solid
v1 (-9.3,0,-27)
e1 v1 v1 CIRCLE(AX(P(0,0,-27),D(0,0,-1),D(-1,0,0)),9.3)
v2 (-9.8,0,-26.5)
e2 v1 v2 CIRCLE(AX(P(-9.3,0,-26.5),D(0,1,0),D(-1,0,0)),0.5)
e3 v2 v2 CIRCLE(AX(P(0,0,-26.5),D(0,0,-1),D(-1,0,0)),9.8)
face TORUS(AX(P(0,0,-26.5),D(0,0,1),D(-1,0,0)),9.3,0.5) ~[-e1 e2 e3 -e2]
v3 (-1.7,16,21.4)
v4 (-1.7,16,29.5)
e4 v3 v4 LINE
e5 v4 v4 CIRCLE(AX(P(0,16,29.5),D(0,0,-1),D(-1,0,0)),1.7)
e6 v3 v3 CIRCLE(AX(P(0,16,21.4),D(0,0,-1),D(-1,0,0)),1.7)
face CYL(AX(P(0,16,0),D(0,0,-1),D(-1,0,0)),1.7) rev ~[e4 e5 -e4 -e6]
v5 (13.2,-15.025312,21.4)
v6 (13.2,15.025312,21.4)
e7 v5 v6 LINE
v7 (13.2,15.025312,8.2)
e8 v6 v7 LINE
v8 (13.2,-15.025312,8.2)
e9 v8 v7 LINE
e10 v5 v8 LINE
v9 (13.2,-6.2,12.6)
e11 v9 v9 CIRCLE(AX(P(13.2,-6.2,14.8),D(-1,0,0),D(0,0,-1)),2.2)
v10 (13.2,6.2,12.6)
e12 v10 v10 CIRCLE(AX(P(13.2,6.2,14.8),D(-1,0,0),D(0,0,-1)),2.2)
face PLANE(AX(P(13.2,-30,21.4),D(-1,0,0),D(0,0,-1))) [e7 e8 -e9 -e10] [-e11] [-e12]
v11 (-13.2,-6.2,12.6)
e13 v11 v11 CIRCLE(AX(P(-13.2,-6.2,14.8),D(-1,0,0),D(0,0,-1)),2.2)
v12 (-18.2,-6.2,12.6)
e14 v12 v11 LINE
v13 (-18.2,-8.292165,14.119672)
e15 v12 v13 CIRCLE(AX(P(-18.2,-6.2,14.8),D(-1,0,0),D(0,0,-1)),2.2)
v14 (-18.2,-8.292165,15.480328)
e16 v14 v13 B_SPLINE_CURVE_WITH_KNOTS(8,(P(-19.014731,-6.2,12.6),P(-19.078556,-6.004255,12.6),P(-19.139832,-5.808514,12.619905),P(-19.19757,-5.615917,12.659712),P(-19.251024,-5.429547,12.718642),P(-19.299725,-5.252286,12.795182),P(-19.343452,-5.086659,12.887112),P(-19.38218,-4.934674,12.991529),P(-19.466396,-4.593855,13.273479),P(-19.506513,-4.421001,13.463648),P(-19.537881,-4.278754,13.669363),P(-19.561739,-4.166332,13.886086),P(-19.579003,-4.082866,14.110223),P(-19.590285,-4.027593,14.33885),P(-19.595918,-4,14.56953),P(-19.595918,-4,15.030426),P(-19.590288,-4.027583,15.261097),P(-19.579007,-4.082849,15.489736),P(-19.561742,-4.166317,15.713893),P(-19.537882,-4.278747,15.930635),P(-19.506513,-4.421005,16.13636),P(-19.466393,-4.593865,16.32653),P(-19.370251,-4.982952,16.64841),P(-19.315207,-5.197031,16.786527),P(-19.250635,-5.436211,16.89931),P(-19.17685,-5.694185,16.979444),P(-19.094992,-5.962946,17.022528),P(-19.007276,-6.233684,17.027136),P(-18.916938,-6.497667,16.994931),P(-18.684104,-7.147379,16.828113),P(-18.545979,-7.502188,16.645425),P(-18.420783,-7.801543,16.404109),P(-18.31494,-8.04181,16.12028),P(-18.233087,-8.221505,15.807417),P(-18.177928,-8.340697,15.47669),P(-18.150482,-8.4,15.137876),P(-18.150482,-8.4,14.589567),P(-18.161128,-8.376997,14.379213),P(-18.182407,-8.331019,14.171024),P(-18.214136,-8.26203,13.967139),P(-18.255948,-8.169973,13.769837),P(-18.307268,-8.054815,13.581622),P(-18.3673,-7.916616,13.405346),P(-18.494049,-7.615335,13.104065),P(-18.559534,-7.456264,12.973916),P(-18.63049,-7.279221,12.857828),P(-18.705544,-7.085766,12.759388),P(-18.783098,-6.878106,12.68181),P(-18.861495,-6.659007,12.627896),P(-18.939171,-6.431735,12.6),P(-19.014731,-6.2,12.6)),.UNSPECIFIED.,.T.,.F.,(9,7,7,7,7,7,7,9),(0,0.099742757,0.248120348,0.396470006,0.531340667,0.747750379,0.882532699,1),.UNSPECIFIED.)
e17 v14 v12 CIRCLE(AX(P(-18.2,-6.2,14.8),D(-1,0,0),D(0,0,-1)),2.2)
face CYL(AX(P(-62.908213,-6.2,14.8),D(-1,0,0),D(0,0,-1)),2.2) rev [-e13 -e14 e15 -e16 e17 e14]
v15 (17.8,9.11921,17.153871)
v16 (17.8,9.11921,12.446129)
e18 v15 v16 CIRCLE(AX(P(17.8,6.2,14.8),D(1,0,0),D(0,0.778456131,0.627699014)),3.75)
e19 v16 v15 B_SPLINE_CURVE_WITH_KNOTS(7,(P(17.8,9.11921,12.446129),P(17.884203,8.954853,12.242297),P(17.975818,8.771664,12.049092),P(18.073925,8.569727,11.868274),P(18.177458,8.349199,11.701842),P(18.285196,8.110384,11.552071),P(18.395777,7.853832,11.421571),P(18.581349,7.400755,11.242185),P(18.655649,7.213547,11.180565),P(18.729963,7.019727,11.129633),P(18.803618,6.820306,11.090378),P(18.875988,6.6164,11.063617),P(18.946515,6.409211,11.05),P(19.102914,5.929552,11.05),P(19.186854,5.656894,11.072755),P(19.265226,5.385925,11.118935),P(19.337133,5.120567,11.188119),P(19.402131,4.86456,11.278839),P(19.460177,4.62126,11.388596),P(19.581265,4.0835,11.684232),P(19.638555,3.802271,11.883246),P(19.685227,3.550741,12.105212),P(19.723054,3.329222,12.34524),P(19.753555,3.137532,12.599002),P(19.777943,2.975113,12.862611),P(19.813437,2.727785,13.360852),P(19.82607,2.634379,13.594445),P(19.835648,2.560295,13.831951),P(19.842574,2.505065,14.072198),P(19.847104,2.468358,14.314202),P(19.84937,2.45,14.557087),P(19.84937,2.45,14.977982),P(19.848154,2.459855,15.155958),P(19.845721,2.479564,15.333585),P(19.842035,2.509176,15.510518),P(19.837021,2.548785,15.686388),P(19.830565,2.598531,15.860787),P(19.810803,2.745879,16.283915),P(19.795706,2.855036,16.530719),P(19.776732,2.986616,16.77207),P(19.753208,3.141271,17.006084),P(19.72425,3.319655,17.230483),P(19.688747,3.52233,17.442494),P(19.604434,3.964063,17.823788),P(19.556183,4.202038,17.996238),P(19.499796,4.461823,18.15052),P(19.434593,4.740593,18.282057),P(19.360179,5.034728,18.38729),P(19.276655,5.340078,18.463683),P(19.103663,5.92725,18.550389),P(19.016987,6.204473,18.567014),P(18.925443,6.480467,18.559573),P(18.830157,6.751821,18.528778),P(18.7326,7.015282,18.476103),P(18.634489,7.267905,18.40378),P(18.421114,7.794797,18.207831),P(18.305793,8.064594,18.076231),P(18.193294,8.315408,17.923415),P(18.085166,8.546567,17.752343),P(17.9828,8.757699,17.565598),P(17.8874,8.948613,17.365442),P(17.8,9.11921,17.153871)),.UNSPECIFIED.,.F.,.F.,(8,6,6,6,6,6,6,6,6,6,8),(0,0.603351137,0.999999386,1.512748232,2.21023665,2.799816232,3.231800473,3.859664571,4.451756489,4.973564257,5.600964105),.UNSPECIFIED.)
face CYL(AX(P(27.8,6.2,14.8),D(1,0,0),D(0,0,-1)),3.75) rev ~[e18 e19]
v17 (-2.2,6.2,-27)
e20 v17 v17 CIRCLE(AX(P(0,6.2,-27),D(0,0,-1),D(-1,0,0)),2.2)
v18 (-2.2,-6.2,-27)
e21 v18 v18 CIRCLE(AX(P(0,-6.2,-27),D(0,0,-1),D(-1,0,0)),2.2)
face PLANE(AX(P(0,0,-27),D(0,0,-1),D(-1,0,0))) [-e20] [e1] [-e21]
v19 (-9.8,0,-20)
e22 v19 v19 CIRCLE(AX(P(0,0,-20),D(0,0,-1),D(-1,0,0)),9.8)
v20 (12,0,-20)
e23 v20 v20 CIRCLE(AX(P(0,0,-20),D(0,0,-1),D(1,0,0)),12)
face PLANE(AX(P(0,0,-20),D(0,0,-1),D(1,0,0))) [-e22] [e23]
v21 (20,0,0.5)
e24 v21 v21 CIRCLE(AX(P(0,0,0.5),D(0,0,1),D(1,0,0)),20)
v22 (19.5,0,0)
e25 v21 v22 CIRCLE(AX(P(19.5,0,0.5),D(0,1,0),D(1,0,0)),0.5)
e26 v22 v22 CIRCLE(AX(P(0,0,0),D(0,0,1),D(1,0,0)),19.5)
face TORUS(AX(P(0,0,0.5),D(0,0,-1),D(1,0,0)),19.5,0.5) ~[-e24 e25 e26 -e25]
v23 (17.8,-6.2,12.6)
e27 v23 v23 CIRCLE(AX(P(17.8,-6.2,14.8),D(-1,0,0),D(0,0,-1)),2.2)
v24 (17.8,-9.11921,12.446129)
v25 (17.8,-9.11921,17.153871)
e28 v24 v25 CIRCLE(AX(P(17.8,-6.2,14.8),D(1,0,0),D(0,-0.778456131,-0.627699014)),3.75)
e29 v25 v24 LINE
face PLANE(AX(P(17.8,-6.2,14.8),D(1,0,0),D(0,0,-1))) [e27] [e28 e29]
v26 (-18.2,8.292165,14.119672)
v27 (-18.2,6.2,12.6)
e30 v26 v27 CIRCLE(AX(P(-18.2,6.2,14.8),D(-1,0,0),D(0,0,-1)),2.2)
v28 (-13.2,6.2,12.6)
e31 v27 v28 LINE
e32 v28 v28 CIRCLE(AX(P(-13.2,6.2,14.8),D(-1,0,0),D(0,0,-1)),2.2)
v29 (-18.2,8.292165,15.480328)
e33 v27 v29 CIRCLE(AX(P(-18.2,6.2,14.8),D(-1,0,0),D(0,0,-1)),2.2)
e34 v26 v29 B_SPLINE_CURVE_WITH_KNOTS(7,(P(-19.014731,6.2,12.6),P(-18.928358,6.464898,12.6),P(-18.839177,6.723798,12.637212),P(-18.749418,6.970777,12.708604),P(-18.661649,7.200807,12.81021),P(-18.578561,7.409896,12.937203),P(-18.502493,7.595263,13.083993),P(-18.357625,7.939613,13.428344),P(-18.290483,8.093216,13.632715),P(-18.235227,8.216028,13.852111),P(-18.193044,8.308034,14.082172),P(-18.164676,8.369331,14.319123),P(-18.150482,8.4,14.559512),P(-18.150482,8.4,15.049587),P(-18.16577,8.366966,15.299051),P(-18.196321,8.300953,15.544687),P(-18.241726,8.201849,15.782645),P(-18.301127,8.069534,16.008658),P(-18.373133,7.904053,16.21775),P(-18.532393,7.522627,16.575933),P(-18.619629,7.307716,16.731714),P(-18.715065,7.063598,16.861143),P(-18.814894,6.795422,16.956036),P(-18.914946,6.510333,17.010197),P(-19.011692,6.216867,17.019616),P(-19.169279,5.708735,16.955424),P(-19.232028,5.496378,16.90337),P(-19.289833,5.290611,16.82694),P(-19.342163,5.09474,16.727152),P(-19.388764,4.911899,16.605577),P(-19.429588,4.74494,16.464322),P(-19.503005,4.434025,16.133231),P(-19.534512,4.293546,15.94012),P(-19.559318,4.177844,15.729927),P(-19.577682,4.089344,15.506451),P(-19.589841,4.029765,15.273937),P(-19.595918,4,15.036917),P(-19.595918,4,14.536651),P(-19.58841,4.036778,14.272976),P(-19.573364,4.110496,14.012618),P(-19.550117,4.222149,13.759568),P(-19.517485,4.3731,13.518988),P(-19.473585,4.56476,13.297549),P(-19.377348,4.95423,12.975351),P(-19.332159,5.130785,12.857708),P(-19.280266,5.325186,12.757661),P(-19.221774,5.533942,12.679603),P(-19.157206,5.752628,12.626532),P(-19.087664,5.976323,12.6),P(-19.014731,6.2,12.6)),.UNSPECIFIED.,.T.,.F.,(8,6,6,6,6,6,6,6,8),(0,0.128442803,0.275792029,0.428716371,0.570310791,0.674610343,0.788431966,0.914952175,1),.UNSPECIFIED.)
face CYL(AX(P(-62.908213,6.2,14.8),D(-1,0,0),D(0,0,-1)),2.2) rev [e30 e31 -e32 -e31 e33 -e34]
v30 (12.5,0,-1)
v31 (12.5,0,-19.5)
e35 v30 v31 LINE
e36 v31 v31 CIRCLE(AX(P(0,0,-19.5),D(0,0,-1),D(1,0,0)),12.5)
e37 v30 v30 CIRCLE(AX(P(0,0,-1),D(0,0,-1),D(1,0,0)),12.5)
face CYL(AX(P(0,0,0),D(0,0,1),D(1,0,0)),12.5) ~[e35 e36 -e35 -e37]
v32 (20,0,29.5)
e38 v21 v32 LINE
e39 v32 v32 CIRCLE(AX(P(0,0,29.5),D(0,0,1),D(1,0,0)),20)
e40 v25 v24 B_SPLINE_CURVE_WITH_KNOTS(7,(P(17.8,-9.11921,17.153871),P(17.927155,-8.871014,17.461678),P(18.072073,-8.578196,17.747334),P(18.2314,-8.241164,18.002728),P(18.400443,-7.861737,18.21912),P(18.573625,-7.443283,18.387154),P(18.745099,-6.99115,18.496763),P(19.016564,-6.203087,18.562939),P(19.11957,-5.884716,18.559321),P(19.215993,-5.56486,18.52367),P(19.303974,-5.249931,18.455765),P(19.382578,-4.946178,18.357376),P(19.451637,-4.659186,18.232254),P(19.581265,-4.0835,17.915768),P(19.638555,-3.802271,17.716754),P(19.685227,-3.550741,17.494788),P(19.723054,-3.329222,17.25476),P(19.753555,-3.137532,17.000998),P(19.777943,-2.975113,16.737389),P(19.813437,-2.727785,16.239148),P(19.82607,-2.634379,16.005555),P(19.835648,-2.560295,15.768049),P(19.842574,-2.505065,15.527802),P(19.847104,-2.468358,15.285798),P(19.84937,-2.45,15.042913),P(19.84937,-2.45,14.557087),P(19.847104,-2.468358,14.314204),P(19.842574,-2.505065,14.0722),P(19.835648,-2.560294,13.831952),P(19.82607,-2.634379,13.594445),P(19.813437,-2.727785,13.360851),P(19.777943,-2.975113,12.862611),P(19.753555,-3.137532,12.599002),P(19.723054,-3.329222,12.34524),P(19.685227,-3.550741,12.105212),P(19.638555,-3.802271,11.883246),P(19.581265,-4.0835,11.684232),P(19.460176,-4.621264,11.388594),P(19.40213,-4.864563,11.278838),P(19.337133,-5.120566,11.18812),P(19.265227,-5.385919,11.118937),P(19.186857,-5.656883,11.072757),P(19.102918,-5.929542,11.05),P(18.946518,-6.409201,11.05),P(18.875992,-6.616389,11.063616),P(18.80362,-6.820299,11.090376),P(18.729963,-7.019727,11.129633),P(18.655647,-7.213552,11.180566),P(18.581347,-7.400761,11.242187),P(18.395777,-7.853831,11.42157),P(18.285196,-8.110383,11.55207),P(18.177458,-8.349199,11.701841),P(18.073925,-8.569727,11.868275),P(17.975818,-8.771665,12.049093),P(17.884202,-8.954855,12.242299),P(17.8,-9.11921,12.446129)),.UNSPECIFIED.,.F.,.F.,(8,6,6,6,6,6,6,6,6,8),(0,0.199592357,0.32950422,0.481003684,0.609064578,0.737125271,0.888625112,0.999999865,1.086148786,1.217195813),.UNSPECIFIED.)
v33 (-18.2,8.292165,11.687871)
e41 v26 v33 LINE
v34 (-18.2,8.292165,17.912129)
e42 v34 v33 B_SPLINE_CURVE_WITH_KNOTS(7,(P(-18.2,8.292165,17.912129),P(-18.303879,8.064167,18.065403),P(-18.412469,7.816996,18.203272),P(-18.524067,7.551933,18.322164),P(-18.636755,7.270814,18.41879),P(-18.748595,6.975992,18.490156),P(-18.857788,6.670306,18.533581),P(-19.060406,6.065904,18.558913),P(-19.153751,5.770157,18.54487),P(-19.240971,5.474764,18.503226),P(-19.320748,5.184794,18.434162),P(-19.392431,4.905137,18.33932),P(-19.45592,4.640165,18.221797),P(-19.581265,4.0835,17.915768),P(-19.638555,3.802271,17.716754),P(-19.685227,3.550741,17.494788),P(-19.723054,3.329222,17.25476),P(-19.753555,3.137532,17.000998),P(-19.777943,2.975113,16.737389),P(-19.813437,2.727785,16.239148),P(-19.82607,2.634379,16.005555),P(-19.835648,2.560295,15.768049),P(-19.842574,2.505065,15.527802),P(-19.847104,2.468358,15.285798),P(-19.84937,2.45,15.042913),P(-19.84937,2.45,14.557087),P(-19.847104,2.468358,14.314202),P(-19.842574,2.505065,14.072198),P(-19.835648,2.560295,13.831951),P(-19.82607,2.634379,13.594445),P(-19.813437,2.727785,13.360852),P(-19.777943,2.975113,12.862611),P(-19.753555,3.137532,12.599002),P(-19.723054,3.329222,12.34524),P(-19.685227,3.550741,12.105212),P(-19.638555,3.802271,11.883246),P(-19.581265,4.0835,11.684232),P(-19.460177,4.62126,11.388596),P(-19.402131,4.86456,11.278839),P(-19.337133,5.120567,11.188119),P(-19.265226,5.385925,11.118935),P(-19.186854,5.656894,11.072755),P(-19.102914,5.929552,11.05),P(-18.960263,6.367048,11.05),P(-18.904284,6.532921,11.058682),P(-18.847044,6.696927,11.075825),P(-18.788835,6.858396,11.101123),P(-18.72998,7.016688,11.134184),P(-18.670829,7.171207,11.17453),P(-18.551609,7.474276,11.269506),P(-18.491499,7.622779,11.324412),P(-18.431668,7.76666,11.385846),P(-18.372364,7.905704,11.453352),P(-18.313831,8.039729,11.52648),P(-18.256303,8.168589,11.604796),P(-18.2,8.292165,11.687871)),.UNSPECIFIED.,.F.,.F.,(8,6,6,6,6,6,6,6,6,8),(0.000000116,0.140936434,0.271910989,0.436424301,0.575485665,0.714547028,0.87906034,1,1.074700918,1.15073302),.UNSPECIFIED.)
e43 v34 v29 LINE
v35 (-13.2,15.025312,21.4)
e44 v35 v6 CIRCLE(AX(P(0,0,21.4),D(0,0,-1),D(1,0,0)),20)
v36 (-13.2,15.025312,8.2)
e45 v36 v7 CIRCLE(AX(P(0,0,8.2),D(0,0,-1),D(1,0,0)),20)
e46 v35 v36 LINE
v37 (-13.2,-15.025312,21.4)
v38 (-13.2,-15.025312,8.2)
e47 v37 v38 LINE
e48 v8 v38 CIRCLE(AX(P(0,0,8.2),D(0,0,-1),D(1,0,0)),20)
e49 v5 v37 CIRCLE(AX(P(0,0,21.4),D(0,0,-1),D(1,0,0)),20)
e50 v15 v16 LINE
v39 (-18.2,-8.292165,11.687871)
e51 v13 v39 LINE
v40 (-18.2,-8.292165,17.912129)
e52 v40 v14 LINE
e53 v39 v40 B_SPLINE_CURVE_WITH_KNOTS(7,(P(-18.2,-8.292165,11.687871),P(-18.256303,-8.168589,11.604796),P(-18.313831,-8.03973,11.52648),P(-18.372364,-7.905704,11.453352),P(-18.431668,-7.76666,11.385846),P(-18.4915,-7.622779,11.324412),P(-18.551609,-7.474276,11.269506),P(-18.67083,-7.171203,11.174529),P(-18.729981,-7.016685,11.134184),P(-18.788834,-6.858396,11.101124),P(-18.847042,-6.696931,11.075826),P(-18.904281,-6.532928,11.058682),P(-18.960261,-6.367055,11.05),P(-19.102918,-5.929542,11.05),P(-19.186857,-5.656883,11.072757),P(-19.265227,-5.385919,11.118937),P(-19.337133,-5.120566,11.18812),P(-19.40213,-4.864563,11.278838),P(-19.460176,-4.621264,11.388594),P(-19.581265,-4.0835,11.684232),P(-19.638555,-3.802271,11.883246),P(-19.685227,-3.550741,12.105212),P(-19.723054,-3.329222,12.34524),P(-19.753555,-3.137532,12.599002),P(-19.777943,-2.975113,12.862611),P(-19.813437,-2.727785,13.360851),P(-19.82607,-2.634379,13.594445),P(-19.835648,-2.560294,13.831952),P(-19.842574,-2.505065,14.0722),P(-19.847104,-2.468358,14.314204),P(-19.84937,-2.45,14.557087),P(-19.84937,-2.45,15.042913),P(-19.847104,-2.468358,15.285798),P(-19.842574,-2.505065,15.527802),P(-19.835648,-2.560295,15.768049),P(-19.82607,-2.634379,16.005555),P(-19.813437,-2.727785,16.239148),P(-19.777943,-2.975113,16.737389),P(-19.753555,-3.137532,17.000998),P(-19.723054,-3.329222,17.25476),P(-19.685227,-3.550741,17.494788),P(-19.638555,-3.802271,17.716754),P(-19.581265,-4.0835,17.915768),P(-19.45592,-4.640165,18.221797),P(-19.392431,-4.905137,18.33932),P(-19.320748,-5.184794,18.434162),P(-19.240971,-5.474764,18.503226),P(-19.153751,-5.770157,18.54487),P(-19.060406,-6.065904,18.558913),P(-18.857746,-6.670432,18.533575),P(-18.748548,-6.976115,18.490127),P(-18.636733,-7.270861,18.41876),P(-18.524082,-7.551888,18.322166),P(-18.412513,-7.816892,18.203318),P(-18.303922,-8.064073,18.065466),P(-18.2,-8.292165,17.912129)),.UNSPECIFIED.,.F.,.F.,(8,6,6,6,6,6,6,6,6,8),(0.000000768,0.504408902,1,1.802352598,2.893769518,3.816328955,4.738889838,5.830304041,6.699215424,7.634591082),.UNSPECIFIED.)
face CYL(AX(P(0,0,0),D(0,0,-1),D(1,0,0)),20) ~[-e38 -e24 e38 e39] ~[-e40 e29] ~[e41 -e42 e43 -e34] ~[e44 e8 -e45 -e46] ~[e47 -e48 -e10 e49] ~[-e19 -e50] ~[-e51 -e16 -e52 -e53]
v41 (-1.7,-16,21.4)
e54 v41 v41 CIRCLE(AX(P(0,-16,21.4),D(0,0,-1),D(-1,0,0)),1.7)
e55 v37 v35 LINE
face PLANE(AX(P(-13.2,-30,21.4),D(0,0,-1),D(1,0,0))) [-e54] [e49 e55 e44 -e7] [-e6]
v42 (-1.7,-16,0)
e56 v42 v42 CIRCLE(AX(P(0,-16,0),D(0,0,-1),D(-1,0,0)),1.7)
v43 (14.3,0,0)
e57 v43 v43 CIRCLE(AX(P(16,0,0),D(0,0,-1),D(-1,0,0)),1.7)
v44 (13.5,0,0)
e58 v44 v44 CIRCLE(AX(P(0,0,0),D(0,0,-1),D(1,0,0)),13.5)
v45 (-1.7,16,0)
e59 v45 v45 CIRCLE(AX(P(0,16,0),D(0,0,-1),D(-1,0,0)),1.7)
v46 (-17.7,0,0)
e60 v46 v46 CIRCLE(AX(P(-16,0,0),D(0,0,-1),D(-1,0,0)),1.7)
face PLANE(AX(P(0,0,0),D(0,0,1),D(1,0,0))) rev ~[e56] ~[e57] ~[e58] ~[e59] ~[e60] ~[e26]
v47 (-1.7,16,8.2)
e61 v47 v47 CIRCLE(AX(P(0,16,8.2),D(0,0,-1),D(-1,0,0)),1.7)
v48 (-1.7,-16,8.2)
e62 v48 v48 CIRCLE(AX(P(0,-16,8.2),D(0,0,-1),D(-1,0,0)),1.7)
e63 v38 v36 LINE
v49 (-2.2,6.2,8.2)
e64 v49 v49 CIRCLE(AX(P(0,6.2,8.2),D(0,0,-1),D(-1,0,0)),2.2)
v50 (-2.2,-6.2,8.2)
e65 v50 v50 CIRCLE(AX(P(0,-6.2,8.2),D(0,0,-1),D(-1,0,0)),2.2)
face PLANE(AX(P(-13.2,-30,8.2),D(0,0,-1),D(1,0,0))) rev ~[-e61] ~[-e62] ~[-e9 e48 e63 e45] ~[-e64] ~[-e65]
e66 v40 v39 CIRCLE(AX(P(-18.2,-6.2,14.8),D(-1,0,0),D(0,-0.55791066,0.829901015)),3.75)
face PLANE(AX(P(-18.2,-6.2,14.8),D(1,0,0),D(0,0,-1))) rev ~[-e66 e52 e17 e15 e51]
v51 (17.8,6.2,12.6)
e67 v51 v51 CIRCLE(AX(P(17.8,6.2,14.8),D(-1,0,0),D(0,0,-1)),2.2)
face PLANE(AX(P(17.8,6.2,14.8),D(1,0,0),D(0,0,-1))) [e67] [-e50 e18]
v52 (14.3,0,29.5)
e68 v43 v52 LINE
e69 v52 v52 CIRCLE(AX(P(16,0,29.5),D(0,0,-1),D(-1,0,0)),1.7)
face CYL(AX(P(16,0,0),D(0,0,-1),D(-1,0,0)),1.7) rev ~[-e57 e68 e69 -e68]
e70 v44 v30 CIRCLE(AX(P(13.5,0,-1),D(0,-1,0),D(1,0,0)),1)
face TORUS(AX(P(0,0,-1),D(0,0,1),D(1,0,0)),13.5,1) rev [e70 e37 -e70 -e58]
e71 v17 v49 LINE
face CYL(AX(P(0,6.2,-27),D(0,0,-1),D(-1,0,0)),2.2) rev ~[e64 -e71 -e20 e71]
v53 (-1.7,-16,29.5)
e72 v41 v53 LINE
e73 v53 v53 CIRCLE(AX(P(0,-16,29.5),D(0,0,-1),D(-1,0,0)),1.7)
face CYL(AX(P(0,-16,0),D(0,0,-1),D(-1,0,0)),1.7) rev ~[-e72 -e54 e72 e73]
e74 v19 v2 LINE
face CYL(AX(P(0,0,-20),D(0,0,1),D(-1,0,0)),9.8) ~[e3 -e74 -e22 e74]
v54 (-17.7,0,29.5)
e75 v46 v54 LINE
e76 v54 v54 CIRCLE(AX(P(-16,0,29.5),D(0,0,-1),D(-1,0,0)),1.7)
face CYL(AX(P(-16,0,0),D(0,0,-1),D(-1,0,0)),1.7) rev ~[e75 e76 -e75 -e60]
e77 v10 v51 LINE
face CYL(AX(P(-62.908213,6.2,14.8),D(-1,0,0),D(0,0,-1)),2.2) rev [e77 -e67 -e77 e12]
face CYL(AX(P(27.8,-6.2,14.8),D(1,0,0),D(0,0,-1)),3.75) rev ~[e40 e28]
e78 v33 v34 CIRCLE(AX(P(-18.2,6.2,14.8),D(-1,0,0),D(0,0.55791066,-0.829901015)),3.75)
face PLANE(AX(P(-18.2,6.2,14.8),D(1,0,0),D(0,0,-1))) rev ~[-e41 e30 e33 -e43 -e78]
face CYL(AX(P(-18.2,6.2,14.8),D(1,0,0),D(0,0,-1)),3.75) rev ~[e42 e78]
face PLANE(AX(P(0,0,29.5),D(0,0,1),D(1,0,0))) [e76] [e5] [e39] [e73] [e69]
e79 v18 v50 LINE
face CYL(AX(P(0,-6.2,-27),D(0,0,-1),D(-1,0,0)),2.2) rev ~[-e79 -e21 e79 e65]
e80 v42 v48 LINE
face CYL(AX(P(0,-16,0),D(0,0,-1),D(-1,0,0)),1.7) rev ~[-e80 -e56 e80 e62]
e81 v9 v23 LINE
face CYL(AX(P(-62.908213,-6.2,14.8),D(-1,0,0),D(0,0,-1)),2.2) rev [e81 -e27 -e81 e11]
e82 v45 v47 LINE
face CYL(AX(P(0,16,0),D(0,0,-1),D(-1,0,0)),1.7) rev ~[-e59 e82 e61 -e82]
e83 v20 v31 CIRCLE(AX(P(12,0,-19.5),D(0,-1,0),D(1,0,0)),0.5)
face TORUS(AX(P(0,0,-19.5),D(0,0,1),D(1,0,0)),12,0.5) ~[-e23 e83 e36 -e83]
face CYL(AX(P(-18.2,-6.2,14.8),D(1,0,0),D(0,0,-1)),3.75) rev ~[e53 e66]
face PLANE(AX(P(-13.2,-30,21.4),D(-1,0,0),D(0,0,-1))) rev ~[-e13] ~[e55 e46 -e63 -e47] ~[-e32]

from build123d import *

# Parameters (mm, degrees)
SKETCH_1_R               = 20
EXTRUDE_1_DEPTH          = 29.5
CUT_EXTRUDE_1_DEPTH      = 30
CUT_EXTRUDE_1_DEPTH_BACK = 30
SKETCH_2_W               = 26.4
SKETCH_2_H               = 13.2
SKETCH_4_R               = 1.7
CUT_EXTRUDE_3_DEPTH      = 41.868692174
SKETCH_5_R               = 12.5
EXTRUDE_2_DEPTH          = 20
SKETCH_6_R               = 9.8
EXTRUDE_3_DEPTH          = 7
CUT_EXTRUDE_7_REACH      = 65.184
SKETCH_7_R               = 2.2
CUT_EXTRUDE_8_DEPTH      = 49.70821286
CUT_EXTRUDE_8_DEPTH_BACK = 49.70821286
SKETCH_8_R               = 2.2
CUT_EXTRUDE_START        = -5
SKETCH_9_R               = 3.75
CUT_EXTRUDE_9_DEPTH      = 10
CUT_EXTRUDE_START_2      = 41
SKETCH_10_R              = 3.75
CUT_EXTRUDE_10_DEPTH     = 10
FILLET_1_R               = 0.5
FILLET_2_R               = 1


with BuildPart() as part:
    # 草图1 → 凸台-拉伸1 (new body)
    with BuildSketch(Plane.XY):
        Circle(SKETCH_1_R)
    extrude(amount=EXTRUDE_1_DEPTH)

    # 草图2 → 切除-拉伸1 (cut, two sides: drawn at the far end of the back side and taken through both)
    with BuildSketch(Plane(origin=(0, 0, 0), x_dir=(1, 0, 0), z_dir=(0, 1, 0)).offset(-CUT_EXTRUDE_1_DEPTH_BACK)):
        with Locations((0, -14.8)):
            Rectangle(SKETCH_2_W, SKETCH_2_H)
    extrude(amount=CUT_EXTRUDE_1_DEPTH + CUT_EXTRUDE_1_DEPTH_BACK, mode=Mode.SUBTRACT)

    # 草图4 → 切除-拉伸3 (cut, through all)
    with BuildSketch(Plane(origin=(0, 0, 0), x_dir=(-1, 0, 0), z_dir=(0, 0, -1))):
        with Locations((0, 16)):
            Circle(SKETCH_4_R)
        with Locations((16, 0)):
            Circle(SKETCH_4_R)
        with Locations((0, -16)):
            Circle(SKETCH_4_R)
        with Locations((-16, 0)):
            Circle(SKETCH_4_R)
    extrude(amount=-CUT_EXTRUDE_3_DEPTH, mode=Mode.SUBTRACT)

    # 草图5 → 凸台-拉伸2 (add)
    with BuildSketch(Plane(origin=(0, 0, 0), x_dir=(-1, 0, 0), z_dir=(0, 0, -1))):
        Circle(SKETCH_5_R)
    extrude(amount=EXTRUDE_2_DEPTH)

    # 草图6 → 凸台-拉伸3 (add)
    with BuildSketch(Plane(origin=(0, 0, -20), x_dir=(-1, 0, 0), z_dir=(0, 0, -1))):
        Circle(SKETCH_6_R)
    extrude(amount=EXTRUDE_3_DEPTH)

    # 草图7 → 切除-拉伸7 (cut, up to next)
    with BuildSketch(Plane(origin=(0, 0, -27), x_dir=(-1, 0, 0), z_dir=(0, 0, -1)), mode=Mode.PRIVATE) as cut_extrude_7_sk1:
        with Locations((0, 6.2)):
            Circle(SKETCH_7_R)
    cut_extrude_7_tool1 = extrude(cut_extrude_7_sk1.sketch, amount=-CUT_EXTRUDE_7_REACH, mode=Mode.PRIVATE) & part.part
    # 草图7 → 切除-拉伸7 (cut, up to next)
    with BuildSketch(Plane(origin=(0, 0, -27), x_dir=(-1, 0, 0), z_dir=(0, 0, -1)), mode=Mode.PRIVATE) as cut_extrude_7_sk2:
        with Locations((0, -6.2)):
            Circle(SKETCH_7_R)
    cut_extrude_7_tool2 = extrude(cut_extrude_7_sk2.sketch, amount=-CUT_EXTRUDE_7_REACH, mode=Mode.PRIVATE) & part.part
    add(cut_extrude_7_tool1.solids().sort_by_distance((0, 6.2, -27))[0], mode=Mode.SUBTRACT)
    add(cut_extrude_7_tool2.solids().sort_by_distance((0, -6.2, -27))[0], mode=Mode.SUBTRACT)

    # 草图8 → 切除-拉伸8 (cut, two sides: drawn at the far end of the back side and taken through both)
    with BuildSketch(Plane(origin=(-13.2, 0, 0), x_dir=(0, 0, -1), z_dir=(1, 0, 0)).offset(-CUT_EXTRUDE_8_DEPTH_BACK)):
        with Locations((-14.8, 6.2)):
            Circle(SKETCH_8_R)
        with Locations((-14.8, -6.2)):
            Circle(SKETCH_8_R)
    extrude(amount=CUT_EXTRUDE_8_DEPTH + CUT_EXTRUDE_8_DEPTH_BACK, mode=Mode.SUBTRACT)

    # 草图9 → 切除-拉伸9 (cut)
    with BuildSketch(Plane(origin=(-13.2, 0, 0), x_dir=(0, 0, -1), z_dir=(1, 0, 0)).offset(CUT_EXTRUDE_START)):
        with Locations((-14.8, 6.2)):
            Circle(SKETCH_9_R)
        with Locations((-14.8, -6.2)):
            Circle(SKETCH_9_R)
    extrude(amount=-CUT_EXTRUDE_9_DEPTH, mode=Mode.SUBTRACT)

    # 草图10 → 切除-拉伸10 (cut)
    with BuildSketch(Plane(origin=(-13.2, 0, 0), x_dir=(0, 0, -1), z_dir=(1, 0, 0)).offset(CUT_EXTRUDE_START_2)):
        with Locations((-14.8, 6.2)):
            Circle(SKETCH_10_R)
        with Locations((-14.8, -6.2)):
            Circle(SKETCH_10_R)
    extrude(amount=-CUT_EXTRUDE_10_DEPTH, mode=Mode.SUBTRACT)

    # 圆角1
    fillet_1_edges = [part.edges().sort_by_distance(p)[0] for p in [
        (9.8, 0, -27),
        (12.5, 0, -20),
        (-20, 0, 0),
    ]]
    fillet(fillet_1_edges, radius=FILLET_1_R)

    # 圆角2
    fillet_2_edges = [part.edges().sort_by_distance(p)[0] for p in [
        (12.5, 0, 0),
    ]]
    fillet(fillet_2_edges, radius=FILLET_2_R)


solid = part.part
